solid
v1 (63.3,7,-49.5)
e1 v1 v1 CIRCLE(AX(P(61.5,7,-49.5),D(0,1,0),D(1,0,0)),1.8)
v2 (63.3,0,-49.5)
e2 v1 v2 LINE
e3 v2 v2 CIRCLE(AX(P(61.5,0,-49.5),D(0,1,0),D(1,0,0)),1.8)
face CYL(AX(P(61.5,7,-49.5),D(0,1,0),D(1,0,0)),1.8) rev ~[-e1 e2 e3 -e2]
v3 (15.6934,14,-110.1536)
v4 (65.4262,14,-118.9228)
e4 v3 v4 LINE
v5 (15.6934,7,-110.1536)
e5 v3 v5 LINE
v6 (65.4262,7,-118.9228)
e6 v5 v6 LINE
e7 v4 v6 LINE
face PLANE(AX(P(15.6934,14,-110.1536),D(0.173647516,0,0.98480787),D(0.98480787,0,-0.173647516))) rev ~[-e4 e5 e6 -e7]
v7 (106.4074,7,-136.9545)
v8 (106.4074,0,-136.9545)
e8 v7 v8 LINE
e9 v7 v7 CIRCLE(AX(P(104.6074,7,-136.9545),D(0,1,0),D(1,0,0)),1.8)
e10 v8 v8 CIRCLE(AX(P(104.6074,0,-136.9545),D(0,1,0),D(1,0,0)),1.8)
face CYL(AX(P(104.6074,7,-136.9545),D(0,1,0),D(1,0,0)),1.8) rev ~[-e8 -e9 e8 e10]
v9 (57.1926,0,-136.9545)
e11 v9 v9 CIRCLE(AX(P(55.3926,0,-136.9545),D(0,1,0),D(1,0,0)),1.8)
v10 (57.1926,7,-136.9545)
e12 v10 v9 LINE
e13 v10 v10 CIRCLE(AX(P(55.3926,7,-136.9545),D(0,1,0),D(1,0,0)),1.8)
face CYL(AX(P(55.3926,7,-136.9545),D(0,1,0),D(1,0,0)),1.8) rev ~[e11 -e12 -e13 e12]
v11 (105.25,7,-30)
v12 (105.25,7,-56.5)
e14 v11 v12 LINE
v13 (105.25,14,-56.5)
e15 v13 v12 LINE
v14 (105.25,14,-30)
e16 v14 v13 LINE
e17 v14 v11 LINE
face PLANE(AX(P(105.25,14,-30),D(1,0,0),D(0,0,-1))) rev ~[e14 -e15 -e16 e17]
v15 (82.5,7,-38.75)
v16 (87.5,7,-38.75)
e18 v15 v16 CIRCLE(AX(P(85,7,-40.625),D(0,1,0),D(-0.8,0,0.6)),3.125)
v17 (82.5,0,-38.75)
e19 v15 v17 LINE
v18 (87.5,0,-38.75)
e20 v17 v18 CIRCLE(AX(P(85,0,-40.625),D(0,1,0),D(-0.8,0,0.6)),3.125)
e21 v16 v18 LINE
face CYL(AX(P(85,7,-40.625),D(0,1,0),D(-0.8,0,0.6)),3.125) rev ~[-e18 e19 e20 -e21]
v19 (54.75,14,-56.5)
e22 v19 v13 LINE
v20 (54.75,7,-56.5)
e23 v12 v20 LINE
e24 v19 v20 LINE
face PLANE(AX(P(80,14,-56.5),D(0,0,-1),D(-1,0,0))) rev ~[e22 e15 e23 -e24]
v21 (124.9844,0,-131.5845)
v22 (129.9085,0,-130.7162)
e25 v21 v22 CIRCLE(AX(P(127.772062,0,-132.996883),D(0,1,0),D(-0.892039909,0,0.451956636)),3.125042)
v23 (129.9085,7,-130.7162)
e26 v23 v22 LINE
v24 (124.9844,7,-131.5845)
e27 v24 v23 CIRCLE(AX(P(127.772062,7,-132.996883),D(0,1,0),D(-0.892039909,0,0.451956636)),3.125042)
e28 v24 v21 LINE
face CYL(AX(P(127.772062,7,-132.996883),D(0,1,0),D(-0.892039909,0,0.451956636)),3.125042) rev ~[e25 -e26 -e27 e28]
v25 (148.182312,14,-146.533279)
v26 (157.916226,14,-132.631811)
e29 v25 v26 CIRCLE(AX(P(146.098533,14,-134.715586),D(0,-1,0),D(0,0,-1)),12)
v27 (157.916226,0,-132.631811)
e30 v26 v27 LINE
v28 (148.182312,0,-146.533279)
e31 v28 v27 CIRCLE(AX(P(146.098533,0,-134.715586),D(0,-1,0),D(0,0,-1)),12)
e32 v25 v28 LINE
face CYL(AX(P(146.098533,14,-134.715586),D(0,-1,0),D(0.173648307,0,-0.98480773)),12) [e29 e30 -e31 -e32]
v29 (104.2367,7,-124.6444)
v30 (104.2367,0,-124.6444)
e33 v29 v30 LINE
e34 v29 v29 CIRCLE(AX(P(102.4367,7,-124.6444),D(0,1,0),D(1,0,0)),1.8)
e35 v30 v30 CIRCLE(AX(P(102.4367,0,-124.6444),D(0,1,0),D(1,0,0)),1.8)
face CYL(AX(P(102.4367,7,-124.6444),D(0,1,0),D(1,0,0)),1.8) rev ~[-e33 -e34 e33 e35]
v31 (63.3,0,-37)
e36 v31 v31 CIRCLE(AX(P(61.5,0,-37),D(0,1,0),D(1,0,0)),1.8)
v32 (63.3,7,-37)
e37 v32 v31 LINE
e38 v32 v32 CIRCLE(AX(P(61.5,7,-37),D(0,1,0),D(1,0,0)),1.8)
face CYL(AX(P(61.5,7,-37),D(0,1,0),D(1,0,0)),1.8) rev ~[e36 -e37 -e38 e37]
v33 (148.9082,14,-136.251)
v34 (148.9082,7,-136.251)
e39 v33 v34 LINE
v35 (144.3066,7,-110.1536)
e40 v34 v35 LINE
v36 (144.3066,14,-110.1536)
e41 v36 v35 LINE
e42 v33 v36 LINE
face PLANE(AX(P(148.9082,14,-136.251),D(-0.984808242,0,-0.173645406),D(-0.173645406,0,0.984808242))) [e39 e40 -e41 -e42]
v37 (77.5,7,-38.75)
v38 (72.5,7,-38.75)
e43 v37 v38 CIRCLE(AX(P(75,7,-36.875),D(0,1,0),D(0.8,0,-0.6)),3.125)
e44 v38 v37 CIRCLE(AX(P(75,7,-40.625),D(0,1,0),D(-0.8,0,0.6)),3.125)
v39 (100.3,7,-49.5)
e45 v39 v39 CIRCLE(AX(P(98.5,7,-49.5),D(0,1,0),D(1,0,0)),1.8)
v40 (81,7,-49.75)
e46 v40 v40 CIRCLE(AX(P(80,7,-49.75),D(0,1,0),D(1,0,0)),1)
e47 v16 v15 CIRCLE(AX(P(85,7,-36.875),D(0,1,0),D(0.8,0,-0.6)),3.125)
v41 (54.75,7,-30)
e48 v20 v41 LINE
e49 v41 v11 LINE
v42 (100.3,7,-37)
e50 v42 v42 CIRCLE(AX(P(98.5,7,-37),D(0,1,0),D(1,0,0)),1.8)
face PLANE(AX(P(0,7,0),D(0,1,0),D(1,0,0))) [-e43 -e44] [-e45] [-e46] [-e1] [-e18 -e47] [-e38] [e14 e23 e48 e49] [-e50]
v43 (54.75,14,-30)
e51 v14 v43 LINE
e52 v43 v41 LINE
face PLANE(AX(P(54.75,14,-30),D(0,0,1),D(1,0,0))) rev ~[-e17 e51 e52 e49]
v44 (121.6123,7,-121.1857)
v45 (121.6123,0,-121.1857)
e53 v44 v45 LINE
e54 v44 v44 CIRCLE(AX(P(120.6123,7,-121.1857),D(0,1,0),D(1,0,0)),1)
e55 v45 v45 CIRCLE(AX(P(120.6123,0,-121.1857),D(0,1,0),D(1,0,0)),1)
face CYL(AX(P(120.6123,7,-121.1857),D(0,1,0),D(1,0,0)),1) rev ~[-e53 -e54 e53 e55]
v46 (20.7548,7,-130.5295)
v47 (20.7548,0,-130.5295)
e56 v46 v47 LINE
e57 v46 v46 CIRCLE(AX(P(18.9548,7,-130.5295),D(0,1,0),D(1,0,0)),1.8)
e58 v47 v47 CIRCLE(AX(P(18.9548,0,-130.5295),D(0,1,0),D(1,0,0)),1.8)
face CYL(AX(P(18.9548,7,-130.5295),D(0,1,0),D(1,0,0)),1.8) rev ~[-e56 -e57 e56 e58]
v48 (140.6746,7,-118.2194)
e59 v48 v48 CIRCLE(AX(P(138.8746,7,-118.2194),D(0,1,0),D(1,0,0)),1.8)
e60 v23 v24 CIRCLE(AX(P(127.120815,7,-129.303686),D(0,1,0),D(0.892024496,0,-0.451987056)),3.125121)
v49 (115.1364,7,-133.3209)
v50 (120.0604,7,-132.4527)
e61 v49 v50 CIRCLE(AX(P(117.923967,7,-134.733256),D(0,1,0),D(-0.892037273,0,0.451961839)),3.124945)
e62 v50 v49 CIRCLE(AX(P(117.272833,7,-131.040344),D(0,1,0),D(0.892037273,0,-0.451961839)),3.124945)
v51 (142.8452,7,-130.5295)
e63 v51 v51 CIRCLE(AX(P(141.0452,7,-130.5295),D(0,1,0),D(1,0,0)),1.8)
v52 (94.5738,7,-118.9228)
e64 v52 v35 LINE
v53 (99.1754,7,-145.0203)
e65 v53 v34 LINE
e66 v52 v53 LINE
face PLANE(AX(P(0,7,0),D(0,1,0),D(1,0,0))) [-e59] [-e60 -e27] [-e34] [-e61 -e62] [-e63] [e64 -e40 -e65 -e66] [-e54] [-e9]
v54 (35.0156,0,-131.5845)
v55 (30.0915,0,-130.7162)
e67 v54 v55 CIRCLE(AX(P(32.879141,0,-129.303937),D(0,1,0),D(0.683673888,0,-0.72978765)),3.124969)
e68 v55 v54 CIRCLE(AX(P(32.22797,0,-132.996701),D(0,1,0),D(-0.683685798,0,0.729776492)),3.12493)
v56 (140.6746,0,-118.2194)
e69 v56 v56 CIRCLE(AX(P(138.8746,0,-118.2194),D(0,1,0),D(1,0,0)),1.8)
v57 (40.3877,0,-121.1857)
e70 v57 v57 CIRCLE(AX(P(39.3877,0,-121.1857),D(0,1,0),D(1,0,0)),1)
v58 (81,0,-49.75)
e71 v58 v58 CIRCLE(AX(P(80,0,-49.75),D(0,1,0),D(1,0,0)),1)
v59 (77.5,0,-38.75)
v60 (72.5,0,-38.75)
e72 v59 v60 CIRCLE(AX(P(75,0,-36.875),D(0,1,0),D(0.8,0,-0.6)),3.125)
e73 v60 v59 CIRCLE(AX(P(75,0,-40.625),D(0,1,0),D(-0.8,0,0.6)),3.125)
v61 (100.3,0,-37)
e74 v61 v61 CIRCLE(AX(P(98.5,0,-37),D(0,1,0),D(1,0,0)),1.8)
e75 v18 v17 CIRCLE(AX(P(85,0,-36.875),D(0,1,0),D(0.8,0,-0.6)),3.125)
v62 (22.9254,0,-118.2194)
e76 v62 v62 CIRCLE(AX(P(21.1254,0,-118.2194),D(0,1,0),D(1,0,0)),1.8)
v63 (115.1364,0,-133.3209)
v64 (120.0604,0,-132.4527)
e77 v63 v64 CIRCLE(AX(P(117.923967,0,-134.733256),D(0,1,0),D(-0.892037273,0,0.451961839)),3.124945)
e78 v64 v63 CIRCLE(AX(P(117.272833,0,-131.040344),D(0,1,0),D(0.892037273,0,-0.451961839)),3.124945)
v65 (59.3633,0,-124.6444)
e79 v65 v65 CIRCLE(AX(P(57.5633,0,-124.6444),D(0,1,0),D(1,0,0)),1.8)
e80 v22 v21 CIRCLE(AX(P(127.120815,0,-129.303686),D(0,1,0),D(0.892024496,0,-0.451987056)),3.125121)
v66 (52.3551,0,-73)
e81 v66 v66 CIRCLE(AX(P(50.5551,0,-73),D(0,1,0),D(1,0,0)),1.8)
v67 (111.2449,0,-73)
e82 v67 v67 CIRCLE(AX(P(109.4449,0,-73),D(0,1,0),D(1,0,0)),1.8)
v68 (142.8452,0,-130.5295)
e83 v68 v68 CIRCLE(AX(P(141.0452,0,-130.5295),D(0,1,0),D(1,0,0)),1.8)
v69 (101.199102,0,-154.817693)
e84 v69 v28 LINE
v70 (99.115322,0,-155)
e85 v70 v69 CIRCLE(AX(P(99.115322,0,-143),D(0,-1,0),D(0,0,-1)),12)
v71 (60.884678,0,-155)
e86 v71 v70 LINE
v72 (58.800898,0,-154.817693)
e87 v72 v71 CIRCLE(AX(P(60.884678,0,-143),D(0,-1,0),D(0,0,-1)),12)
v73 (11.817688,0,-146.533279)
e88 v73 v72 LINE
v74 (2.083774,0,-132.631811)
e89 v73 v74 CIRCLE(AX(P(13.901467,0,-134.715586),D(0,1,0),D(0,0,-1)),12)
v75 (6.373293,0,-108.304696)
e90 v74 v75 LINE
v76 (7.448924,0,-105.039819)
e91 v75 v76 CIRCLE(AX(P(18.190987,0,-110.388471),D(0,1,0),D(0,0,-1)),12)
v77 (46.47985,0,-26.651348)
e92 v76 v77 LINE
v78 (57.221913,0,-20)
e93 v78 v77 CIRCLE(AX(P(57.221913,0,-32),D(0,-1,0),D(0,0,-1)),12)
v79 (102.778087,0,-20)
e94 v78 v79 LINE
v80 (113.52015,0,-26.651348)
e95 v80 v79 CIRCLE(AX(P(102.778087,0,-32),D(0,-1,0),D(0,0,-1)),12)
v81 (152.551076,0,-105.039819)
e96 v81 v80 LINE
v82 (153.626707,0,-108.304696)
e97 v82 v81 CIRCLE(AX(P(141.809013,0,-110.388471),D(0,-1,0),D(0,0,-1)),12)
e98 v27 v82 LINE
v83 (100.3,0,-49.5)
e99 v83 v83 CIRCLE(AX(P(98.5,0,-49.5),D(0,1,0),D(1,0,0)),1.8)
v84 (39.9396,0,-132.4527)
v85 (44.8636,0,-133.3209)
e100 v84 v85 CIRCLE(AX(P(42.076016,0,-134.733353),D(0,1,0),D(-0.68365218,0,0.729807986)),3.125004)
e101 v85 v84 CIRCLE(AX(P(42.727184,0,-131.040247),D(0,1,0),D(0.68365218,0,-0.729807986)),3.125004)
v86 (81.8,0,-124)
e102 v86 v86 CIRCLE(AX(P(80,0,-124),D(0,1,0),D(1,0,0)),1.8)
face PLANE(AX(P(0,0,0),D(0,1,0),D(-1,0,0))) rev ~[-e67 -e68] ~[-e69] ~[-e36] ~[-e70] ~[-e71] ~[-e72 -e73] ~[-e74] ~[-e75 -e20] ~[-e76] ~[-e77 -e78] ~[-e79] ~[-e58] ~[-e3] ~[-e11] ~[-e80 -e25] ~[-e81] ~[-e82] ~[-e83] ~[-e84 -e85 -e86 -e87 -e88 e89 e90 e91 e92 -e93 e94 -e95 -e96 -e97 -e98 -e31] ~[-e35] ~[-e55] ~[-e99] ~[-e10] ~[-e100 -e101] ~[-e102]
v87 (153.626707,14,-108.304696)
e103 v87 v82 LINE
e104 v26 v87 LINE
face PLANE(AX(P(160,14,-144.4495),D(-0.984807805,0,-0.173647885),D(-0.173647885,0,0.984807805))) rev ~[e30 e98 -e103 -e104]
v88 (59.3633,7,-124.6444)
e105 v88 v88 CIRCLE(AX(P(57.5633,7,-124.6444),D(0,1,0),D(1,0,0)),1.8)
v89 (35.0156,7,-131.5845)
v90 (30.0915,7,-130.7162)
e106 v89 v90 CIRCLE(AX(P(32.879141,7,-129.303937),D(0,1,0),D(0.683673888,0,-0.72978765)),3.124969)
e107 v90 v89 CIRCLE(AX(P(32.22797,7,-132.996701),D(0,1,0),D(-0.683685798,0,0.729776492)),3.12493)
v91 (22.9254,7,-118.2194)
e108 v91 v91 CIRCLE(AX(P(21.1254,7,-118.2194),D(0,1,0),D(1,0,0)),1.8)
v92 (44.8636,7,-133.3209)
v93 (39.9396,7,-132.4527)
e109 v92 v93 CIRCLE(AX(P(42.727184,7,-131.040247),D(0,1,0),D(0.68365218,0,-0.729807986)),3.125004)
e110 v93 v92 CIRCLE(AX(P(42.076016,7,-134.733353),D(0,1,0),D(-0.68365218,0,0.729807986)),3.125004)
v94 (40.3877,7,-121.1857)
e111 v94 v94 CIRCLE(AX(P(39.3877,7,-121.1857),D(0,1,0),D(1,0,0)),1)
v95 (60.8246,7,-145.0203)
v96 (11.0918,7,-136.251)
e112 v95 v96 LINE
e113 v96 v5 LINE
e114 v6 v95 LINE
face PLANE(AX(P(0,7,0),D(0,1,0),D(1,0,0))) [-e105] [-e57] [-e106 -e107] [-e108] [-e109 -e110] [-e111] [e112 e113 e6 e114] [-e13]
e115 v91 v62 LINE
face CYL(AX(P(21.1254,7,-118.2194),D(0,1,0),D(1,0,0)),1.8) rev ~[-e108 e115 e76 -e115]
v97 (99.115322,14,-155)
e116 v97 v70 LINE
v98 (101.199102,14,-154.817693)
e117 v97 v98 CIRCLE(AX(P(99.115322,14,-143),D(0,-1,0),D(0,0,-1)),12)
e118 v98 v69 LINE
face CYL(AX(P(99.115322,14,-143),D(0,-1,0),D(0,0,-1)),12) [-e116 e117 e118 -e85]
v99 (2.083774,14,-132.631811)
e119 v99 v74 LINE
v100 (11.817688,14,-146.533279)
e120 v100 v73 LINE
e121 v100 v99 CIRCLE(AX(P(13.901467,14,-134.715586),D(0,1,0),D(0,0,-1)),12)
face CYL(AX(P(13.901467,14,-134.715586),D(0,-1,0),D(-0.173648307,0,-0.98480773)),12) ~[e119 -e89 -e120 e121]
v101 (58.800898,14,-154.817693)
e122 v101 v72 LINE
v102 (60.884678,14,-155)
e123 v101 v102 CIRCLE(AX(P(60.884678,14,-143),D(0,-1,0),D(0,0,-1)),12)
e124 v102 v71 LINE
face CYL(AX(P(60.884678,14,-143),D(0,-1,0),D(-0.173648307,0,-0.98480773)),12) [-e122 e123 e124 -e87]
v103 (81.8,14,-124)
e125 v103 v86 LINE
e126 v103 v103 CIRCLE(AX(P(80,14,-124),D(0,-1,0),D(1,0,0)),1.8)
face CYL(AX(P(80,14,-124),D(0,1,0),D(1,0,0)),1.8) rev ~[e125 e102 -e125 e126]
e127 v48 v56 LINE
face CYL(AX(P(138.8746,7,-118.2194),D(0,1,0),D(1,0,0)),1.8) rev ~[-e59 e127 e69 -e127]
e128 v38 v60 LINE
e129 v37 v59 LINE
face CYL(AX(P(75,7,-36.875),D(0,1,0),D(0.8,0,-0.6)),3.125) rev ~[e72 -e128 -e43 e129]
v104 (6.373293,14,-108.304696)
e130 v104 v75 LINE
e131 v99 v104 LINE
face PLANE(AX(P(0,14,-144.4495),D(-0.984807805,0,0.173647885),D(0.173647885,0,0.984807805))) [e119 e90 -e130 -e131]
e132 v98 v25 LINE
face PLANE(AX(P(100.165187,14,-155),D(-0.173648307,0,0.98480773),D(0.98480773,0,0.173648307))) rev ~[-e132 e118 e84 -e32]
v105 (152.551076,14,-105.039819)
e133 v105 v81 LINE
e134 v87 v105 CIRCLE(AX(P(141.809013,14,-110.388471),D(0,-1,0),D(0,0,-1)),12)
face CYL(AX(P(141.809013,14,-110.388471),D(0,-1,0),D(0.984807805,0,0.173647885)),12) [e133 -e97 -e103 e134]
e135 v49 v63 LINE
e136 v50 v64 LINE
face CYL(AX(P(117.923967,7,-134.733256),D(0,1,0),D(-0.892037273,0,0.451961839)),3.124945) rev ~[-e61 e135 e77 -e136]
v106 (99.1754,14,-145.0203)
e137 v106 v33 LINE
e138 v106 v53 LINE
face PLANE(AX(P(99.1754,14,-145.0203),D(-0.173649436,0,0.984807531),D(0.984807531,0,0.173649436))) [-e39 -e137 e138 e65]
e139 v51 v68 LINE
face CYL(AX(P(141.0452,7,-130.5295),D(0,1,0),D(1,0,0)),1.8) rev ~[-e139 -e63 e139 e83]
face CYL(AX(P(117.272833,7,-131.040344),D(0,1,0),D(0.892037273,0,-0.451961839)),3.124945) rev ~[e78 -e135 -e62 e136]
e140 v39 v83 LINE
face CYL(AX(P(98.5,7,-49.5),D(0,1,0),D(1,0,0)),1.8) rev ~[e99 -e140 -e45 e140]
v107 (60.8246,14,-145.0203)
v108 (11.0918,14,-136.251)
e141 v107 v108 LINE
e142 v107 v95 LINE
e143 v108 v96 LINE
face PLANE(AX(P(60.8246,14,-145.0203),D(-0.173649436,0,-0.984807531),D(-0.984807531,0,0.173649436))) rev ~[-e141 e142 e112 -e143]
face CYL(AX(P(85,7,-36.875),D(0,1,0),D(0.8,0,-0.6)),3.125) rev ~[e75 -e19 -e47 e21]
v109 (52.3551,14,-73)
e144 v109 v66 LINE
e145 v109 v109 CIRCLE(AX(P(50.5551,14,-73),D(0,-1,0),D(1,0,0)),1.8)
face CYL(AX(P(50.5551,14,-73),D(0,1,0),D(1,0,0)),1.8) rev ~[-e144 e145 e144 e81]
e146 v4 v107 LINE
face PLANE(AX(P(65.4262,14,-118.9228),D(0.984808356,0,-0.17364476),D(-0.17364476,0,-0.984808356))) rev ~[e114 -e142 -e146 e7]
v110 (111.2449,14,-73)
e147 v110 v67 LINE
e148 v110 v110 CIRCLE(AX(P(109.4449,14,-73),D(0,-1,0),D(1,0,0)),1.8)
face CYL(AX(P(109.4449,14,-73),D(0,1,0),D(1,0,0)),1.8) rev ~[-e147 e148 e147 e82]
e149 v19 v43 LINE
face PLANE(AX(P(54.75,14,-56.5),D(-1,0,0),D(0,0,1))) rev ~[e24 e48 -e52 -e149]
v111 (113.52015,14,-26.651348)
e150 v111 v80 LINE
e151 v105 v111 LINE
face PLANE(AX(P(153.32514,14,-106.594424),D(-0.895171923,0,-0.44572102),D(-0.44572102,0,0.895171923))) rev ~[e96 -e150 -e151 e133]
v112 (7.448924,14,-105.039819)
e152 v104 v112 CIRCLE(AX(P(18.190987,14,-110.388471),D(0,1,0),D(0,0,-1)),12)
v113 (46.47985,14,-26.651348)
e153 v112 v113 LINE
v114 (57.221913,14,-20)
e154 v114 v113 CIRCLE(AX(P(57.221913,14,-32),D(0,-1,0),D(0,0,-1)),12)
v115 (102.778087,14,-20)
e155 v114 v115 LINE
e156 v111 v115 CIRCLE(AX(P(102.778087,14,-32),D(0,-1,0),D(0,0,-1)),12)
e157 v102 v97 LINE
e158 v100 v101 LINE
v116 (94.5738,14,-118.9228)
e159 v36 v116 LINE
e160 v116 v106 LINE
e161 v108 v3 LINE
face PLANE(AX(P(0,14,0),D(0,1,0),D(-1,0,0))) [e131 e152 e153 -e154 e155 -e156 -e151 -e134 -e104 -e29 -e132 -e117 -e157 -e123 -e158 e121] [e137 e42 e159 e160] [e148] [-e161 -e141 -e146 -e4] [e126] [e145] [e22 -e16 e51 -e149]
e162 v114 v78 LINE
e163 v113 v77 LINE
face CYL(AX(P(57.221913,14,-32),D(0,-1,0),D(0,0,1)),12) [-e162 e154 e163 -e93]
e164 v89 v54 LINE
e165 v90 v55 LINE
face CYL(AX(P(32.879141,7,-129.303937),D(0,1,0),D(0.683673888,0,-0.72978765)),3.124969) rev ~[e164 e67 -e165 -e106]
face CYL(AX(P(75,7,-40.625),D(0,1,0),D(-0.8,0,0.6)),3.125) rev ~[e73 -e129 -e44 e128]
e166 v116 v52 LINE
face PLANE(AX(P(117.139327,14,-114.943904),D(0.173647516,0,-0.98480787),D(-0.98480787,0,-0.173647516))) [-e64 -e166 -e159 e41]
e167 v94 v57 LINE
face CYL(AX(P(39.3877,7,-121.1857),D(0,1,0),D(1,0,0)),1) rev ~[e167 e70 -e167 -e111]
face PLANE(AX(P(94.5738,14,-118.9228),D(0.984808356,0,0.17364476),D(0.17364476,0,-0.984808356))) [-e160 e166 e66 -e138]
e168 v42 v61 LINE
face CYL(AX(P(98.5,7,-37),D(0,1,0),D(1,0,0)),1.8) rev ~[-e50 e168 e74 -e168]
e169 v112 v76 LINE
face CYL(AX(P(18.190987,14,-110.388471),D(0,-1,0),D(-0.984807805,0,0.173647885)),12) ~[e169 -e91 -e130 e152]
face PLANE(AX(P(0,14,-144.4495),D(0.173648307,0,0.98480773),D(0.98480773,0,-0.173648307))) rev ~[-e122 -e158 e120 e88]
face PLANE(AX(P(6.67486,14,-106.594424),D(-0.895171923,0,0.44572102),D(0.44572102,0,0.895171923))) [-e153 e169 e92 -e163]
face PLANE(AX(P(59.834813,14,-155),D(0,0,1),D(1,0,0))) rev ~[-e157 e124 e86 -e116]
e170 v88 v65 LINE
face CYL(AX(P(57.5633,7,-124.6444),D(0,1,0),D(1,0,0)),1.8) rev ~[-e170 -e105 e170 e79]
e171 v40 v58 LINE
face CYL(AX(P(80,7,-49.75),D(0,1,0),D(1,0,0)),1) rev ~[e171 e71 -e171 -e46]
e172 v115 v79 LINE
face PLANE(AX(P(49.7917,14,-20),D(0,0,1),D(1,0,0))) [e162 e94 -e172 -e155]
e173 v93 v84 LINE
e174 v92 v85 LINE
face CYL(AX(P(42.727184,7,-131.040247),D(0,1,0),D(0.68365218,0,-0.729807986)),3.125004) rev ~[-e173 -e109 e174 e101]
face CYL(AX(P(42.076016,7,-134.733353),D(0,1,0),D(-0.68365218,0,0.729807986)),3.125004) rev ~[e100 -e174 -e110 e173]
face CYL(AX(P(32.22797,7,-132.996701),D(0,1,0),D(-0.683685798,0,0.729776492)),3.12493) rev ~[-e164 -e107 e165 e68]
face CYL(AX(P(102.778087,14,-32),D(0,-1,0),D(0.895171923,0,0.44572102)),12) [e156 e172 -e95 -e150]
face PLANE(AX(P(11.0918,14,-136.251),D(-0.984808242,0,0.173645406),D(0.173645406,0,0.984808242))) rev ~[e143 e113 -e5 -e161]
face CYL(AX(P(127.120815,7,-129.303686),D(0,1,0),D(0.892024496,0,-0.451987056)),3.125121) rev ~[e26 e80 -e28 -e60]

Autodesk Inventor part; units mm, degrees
ref_plane "YZ Plane" through (0, 0, 0) normal (1, 0, 0) x (0, 1, 0)
ref_plane "XZ Plane" through (0, 0, 0) normal (0, 1, 0) x (-1, 0, 0)
ref_plane "XY Plane" through (0, 0, 0) normal (0, 0, 1) x (1, 0, 0)
sketch "Sketch1" plane through (0, 0, 0) normal (0, 1, 0) x (-1, 0, 0)
  line L0 (0, 0) -> (-160, 0)
  line L1 (-160, 0) -> (-160, -160)
  line L2 (-160, -160) -> (0, -160)
  line L3 (0, -160) -> (0, 0)
  dimension "d0" = 160
  dimension "d1" = 160
extrude "Extrusion1" add sketch "Sketch1" along normal blind 14
sketch "Sketch2" plane through (0, 14, 0) normal (0, 1, 0) x (1, 0, 0)
  line L0 (54.75, 30) -> (105.25, 30)
  line L1 (105.25, 30) -> (105.25, 56.5)
  line L2 (105.25, 56.5) -> (54.75, 56.5)
  line L3 (54.75, 56.5) -> (54.75, 30)
  line L4 (0, 0) -> (160, 0) projected
  line L5 (0, 160) -> (0, 0) projected
  line L6 (11.0918, 136.251) -> (15.6934, 110.1536)
  line L7 (15.6934, 110.1536) -> (65.4262, 118.9228)
  line L8 (65.4262, 118.9228) -> (60.8246, 145.0203)
  line L9 (60.8246, 145.0203) -> (11.0918, 136.251)
  line L10 (38.2588, 94.75) -> (38.2588, 145.25) construction
  line L11 (25.009, 127.5869) -> (51.509, 127.5869) construction
  line L12 (160, 160) -> (0, 160) projected
  line L13 (54.75, 43.25) -> (106.8484, 43.25) construction
  line L14 (80, 30) -> (80, 56.5) construction
  line L15 (80, 43.25) -> (80, 148.25)
  line L16 (148.9082, 136.251) -> (144.3066, 110.1536)
  line L17 (144.3066, 110.1536) -> (94.5738, 118.9228)
  line L18 (94.5738, 118.9228) -> (99.1754, 145.0203)
  line L19 (99.1754, 145.0203) -> (148.9082, 136.251)
  line L20 (98.0138, 136.2229) -> (145.4682, 118.9509) construction
  line L21 (126.2728, 140.0379) -> (117.2092, 115.136) construction
  line L22 (121.741, 127.5869) -> (85.8289, 28.9192)
  line L23 (38.259, 127.5869) -> (56.4995, 24.14) construction
  point P0 (38.2588, 120)
  point P1 (33.7272, 140.0379)
  point P2 (61.9862, 136.2229)
  dimension "d4" = 26.5
  dimension "d5" = 50.5
  dimension "d6" = 30
  dimension "d7" = 80
  dimension "d9" = 27.167
  dimension "d13" = 17.4333
  dimension "d15" = 12.4509
  dimension "d16" = 23.7272
  dimension "d17" = 11.0918
  dimension "d19" = 105
  dimension "d73" = 270
extrude "Extrusion2" cut sketch "Sketch2" against normal blind 7
sketch "Sketch3" plane through (0, 7, 0) normal (0, 1, 0) x (1, 0, 0)
  circle A0 centre (21.1254, 118.2194) radius 1.8
  line L0 (11.0918, 136.251) -> (60.8246, 145.0203) construction
  line L1 (35.9582, 140.6356) -> (40.5598, 114.5382) construction
  line L2 (65.4262, 118.9228) -> (15.6934, 110.1536) construction
  circle A1 centre (18.9548, 130.5295) radius 1.8
  line L3 (15.6934, 110.1536) -> (11.0918, 136.251) projected
  circle A2 centre (57.5633, 124.6444) radius 1.8
  circle A3 centre (55.3926, 136.9545) radius 1.8
  line L4 (160, 160) -> (0, 160) construction
  line L5 (80, 160) -> (80, 0) construction
  line L6 (0, 0) -> (160, 0) construction
  circle A4 centre (138.8746, 118.2194) radius 1.8
  line L7 (124.0418, 140.6356) -> (119.4402, 114.5382) construction
  circle A5 centre (141.0452, 130.5295) radius 1.8
  circle A6 centre (102.4367, 124.6444) radius 1.8
  circle A7 centre (104.6074, 136.9545) radius 1.8
  circle A8 centre (61.5, 37) radius 1.8
  circle A9 centre (61.5, 49.5) radius 1.8
  line L8 (54.75, 56.5) -> (105.25, 56.5) projected
  line L9 (54.75, 30) -> (54.75, 56.5) projected
  line L10 (105.25, 30) -> (54.75, 30) projected
  circle A10 centre (98.5, 37) radius 1.8
  circle A11 centre (98.5, 49.5) radius 1.8
  circle A12 centre (120.6123, 121.1857) radius 1
  line L11 (144.3066, 110.1536) -> (94.5738, 118.9228) projected
  circle A13 centre (127.4464, 131.1503) radius 1.25
  line L12 (148.9082, 136.251) -> (144.3066, 110.1536) projected
  line L13 (127.4464, 131.1503) -> (129.9085, 130.7162) construction
  line L14 (129.9085, 130.7162) -> (124.9844, 131.5845) construction
  line L15 (99.1754, 145.0203) -> (148.9082, 136.251) construction
  arc A14 (129.9085, 130.7162) -> (124.9844, 131.5845) centre (127.1209, 129.3038) ccw
  arc A15 (124.9844, 131.5845) -> (129.9085, 130.7162) centre (127.772, 132.9968) ccw
  circle A16 centre (117.5984, 132.8868) radius 1.25
  line L16 (117.5984, 132.8868) -> (115.1364, 133.3209) construction
  line L17 (115.1364, 133.3209) -> (120.0604, 132.4527) construction
  arc A17 (120.0604, 132.4527) -> (115.1364, 133.3209) centre (117.2728, 131.0403) ccw
  arc A18 (115.1364, 133.3209) -> (120.0604, 132.4527) centre (117.924, 134.7333) ccw
  circle A19 centre (39.3877, 121.1857) radius 1
  circle A20 centre (32.5536, 131.1503) radius 1.25
  line L18 (32.5536, 131.1503) -> (30.0915, 130.7162) construction
  line L19 (30.0915, 130.7162) -> (35.0156, 131.5845) construction
  arc A21 (35.0156, 131.5845) -> (30.0915, 130.7162) centre (32.8791, 129.3038) ccw
  arc A22 (30.0915, 130.7162) -> (35.0156, 131.5845) centre (32.228, 132.9968) ccw
  line L20 (42.4016, 132.8868) -> (44.8636, 133.3209) construction
  circle A23 centre (42.4016, 132.8868) radius 1.25
  line L21 (44.8636, 133.3209) -> (39.9396, 132.4527) construction
  arc A24 (39.9396, 132.4527) -> (44.8636, 133.3209) centre (42.076, 134.7333) ccw
  arc A25 (44.8636, 133.3209) -> (39.9396, 132.4527) centre (42.7272, 131.0403) ccw
  circle A26 centre (80, 49.75) radius 1
  circle A27 centre (85, 38.75) radius 1.25
  line L22 (105.25, 56.5) -> (105.25, 30) projected
  line L23 (85, 38.75) -> (87.5, 38.75) construction
  line L24 (87.5, 38.75) -> (82.5, 38.75) construction
  arc A28 (82.5, 38.75) -> (87.5, 38.75) centre (85, 40.625) ccw
  arc A29 (87.5, 38.75) -> (82.5, 38.75) centre (85, 36.875) ccw
  circle A30 centre (75, 38.75) radius 1.25
  line L25 (75, 38.75) -> (72.5, 38.75) construction
  line L26 (72.5, 38.75) -> (77.5, 38.75) construction
  arc A31 (72.5, 38.75) -> (77.5, 38.75) centre (75, 40.625) ccw
  arc A32 (77.5, 38.75) -> (72.5, 38.75) centre (75, 36.875) ccw
  line L27 (54.75, 43.25) -> (105.25, 43.25) construction
  line L28 (105.25, 56.5) -> (105.25, 30) construction
  line L29 (146.6074, 123.2023) -> (96.8746, 131.9716) construction
  line L30 (94.5738, 118.9228) -> (99.1754, 145.0203) construction
  point P0 (80, 59.75)
  point P1 (80, 69.75)
  point P2 (127.4464, 131.1503)
  dimension "d24" = 3.6
  dimension "d25" = 7
  dimension "d26" = 6.75
  dimension "d27" = 6.75
  dimension "d28" = 7
  dimension "d29" = 7
  dimension "d30" = 6.75
  dimension "d31" = 3.6
  dimension "d32" = 6.75
  dimension "d33" = 7
  dimension "d36" = 2
  dimension "d37" = 6.75
  dimension "d38" = 2.5
  dimension "d39" = 20.25
  dimension "d41" = 2.5
  dimension "d42" = 2.5
  dimension "d43" = 2
  dimension "d44" = 6.75
  dimension "d45" = 2.5
  dimension "d46" = 20.25
  dimension "d48" = 2.5
  dimension "d49" = 2.5
  dimension "d74" = 10
  dimension "d75" = 10
  dimension "d79" = 4.5
  dimension "d80" = 4.5
extrude "Extrusion3" cut sketch "Sketch3" against normal blind 7 contours A0 | A1 | A2 | A3 | A4 | A5 | A6 | A7 | A8 | A9 | A10 | A11 | A12 | A13 | A13 A14 A15 | A13 A15 A14 | A16 | A16 A17 A18 | A16 A18 A17 | A19 | A20 | A20 A21 A22 | A20 A22 A21 | A23 | A23 A25 A24 | A23 A24 A25 | A26 | A27 | A27 A29 A28 | A27 A28 A29 | A30 | A30 A32 A31 | A30 A31 A32
sketch "Sketch5" plane through (0, 14, 0) normal (0, 1, 0) x (1, 0, 0)
  line L0 (0, 160) -> (0, 0) projected
  line L1 (0, 144.4495) -> (88.1912, 160)
  line L2 (160, 160) -> (0, 160) projected
  line L3 (71.8088, 160) -> (160, 144.4495)
  line L4 (160, 0) -> (160, 160) projected
  line L5 (11.0918, 136.251) -> (60.8246, 145.0203) projected
  line L6 (99.1754, 145.0203) -> (148.9082, 136.251) projected
  line L7 (0, 120) -> (59.75, 0)
  line L8 (0, 0) -> (160, 0) projected
  line L9 (160, 120) -> (100.25, 0)
  line L10 (54.75, 30) -> (54.75, 56.5) projected
  line L11 (105.25, 56.5) -> (105.25, 30) projected
  line L12 (0, 144.4495) -> (0, 160)
  line L13 (88.1912, 160) -> (0, 160)
  line L14 (160, 144.4495) -> (160, 160)
  line L15 (71.8088, 160) -> (160, 160)
  line L16 (160, 0) -> (160, 120)
  line L17 (100.25, 0) -> (160, 0)
  line L18 (0, 120) -> (0, 0)
  line L19 (0, 0) -> (59.75, 0)
  line L20 (49.7917, 20) -> (110.2083, 20)
  line L21 (105.25, 30) -> (54.75, 30) projected
  line L22 (160, 144.4495) -> (134.5297, 0)
  line L23 (0, 0) -> (160, 0) projected
  line L24 (148.9082, 136.251) -> (144.3066, 110.1536) projected
  line L25 (0, 144.4495) -> (25.4703, 0)
  line L26 (15.6934, 110.1536) -> (11.0918, 136.251) projected
  line L27 (0, 160) -> (0, 0) projected
  line L28 (0, 155) -> (160, 155)
  point P0 (115.9044, 152.2248)
  point P1 (100.25, 0)
  point P2 (71.8088, 160)
  point P3 (153.3251, 106.5944)
  point P4 (6.6749, 106.5944)
  point P5 (59.8348, 155)
  point P6 (100.1652, 155)
  point P7 (80, 158.5557)
  dimension "d50" = 10
  dimension "d51" = 10
  dimension "d52" = 120
  dimension "d54" = 120
  dimension "d56" = 5
  dimension "d57" = 5
  dimension "d60" = 10
  dimension "d78" = 5
extrude "Extrusion4" cut sketch "Sketch5" against normal through all contours L2 L3 L1 L28 L0 | L28 L1 L0 | L2 L1 L3 | L25 L7 L0 | L1 L3 L28 | L2 L4 L28 L3 L1 | L7 L25 L8 L0 | L7 L8 L25 | L28 L4 L3 | L20 L9 L8 L7 | L4 L9 L22 | L9 L22 L8 | L4 L8 L22 L9
fillet "Fillet1" radius 12 8 edges at (110.2083, 7, -20) (49.7917, 7, -20) (0, 7, -144.4495) (6.6749, 7, -106.5944) (59.8348, 7, -155) (100.1652, 7, -155) (160, 7, -144.4495) (153.3251, 7, -106.5944)
sketch "Sketch6" plane through (0, 14, 0) normal (0, 1, 0) x (1, 0, 0)
  circle A0 centre (80, 90) radius 34
  line L0 (99.96, 160) -> (60.04, 160) projected
  line L1 (160, 120.9408) -> (160, 141.0931) projected
  line L2 (80, 90) -> (80, 18.0727) construction
  line L3 (80, 90) -> (28.0347, 59.9978) construction
  line L4 (80, 90) -> (140.0044, 90) construction
  circle A1 centre (50.5551, 73) radius 1.8
  circle A2 centre (109.4449, 73) radius 1.8
  circle A3 centre (80, 124) radius 1.8
  point P0 (0, 0)
  dimension "d62" = 68
  dimension "d63" = 70
  dimension "d64" = 80
  dimension "d65" = 150
  dimension "d66" = 3.6
  dimension "d69" = 360
extrude "Extrusion5" cut sketch "Sketch6" against normal through all contours A3 A0 | A0 A3 | A2 A0 | A0 A2 | A1 A0 | A0 A1
properties part number "Baseplate"
